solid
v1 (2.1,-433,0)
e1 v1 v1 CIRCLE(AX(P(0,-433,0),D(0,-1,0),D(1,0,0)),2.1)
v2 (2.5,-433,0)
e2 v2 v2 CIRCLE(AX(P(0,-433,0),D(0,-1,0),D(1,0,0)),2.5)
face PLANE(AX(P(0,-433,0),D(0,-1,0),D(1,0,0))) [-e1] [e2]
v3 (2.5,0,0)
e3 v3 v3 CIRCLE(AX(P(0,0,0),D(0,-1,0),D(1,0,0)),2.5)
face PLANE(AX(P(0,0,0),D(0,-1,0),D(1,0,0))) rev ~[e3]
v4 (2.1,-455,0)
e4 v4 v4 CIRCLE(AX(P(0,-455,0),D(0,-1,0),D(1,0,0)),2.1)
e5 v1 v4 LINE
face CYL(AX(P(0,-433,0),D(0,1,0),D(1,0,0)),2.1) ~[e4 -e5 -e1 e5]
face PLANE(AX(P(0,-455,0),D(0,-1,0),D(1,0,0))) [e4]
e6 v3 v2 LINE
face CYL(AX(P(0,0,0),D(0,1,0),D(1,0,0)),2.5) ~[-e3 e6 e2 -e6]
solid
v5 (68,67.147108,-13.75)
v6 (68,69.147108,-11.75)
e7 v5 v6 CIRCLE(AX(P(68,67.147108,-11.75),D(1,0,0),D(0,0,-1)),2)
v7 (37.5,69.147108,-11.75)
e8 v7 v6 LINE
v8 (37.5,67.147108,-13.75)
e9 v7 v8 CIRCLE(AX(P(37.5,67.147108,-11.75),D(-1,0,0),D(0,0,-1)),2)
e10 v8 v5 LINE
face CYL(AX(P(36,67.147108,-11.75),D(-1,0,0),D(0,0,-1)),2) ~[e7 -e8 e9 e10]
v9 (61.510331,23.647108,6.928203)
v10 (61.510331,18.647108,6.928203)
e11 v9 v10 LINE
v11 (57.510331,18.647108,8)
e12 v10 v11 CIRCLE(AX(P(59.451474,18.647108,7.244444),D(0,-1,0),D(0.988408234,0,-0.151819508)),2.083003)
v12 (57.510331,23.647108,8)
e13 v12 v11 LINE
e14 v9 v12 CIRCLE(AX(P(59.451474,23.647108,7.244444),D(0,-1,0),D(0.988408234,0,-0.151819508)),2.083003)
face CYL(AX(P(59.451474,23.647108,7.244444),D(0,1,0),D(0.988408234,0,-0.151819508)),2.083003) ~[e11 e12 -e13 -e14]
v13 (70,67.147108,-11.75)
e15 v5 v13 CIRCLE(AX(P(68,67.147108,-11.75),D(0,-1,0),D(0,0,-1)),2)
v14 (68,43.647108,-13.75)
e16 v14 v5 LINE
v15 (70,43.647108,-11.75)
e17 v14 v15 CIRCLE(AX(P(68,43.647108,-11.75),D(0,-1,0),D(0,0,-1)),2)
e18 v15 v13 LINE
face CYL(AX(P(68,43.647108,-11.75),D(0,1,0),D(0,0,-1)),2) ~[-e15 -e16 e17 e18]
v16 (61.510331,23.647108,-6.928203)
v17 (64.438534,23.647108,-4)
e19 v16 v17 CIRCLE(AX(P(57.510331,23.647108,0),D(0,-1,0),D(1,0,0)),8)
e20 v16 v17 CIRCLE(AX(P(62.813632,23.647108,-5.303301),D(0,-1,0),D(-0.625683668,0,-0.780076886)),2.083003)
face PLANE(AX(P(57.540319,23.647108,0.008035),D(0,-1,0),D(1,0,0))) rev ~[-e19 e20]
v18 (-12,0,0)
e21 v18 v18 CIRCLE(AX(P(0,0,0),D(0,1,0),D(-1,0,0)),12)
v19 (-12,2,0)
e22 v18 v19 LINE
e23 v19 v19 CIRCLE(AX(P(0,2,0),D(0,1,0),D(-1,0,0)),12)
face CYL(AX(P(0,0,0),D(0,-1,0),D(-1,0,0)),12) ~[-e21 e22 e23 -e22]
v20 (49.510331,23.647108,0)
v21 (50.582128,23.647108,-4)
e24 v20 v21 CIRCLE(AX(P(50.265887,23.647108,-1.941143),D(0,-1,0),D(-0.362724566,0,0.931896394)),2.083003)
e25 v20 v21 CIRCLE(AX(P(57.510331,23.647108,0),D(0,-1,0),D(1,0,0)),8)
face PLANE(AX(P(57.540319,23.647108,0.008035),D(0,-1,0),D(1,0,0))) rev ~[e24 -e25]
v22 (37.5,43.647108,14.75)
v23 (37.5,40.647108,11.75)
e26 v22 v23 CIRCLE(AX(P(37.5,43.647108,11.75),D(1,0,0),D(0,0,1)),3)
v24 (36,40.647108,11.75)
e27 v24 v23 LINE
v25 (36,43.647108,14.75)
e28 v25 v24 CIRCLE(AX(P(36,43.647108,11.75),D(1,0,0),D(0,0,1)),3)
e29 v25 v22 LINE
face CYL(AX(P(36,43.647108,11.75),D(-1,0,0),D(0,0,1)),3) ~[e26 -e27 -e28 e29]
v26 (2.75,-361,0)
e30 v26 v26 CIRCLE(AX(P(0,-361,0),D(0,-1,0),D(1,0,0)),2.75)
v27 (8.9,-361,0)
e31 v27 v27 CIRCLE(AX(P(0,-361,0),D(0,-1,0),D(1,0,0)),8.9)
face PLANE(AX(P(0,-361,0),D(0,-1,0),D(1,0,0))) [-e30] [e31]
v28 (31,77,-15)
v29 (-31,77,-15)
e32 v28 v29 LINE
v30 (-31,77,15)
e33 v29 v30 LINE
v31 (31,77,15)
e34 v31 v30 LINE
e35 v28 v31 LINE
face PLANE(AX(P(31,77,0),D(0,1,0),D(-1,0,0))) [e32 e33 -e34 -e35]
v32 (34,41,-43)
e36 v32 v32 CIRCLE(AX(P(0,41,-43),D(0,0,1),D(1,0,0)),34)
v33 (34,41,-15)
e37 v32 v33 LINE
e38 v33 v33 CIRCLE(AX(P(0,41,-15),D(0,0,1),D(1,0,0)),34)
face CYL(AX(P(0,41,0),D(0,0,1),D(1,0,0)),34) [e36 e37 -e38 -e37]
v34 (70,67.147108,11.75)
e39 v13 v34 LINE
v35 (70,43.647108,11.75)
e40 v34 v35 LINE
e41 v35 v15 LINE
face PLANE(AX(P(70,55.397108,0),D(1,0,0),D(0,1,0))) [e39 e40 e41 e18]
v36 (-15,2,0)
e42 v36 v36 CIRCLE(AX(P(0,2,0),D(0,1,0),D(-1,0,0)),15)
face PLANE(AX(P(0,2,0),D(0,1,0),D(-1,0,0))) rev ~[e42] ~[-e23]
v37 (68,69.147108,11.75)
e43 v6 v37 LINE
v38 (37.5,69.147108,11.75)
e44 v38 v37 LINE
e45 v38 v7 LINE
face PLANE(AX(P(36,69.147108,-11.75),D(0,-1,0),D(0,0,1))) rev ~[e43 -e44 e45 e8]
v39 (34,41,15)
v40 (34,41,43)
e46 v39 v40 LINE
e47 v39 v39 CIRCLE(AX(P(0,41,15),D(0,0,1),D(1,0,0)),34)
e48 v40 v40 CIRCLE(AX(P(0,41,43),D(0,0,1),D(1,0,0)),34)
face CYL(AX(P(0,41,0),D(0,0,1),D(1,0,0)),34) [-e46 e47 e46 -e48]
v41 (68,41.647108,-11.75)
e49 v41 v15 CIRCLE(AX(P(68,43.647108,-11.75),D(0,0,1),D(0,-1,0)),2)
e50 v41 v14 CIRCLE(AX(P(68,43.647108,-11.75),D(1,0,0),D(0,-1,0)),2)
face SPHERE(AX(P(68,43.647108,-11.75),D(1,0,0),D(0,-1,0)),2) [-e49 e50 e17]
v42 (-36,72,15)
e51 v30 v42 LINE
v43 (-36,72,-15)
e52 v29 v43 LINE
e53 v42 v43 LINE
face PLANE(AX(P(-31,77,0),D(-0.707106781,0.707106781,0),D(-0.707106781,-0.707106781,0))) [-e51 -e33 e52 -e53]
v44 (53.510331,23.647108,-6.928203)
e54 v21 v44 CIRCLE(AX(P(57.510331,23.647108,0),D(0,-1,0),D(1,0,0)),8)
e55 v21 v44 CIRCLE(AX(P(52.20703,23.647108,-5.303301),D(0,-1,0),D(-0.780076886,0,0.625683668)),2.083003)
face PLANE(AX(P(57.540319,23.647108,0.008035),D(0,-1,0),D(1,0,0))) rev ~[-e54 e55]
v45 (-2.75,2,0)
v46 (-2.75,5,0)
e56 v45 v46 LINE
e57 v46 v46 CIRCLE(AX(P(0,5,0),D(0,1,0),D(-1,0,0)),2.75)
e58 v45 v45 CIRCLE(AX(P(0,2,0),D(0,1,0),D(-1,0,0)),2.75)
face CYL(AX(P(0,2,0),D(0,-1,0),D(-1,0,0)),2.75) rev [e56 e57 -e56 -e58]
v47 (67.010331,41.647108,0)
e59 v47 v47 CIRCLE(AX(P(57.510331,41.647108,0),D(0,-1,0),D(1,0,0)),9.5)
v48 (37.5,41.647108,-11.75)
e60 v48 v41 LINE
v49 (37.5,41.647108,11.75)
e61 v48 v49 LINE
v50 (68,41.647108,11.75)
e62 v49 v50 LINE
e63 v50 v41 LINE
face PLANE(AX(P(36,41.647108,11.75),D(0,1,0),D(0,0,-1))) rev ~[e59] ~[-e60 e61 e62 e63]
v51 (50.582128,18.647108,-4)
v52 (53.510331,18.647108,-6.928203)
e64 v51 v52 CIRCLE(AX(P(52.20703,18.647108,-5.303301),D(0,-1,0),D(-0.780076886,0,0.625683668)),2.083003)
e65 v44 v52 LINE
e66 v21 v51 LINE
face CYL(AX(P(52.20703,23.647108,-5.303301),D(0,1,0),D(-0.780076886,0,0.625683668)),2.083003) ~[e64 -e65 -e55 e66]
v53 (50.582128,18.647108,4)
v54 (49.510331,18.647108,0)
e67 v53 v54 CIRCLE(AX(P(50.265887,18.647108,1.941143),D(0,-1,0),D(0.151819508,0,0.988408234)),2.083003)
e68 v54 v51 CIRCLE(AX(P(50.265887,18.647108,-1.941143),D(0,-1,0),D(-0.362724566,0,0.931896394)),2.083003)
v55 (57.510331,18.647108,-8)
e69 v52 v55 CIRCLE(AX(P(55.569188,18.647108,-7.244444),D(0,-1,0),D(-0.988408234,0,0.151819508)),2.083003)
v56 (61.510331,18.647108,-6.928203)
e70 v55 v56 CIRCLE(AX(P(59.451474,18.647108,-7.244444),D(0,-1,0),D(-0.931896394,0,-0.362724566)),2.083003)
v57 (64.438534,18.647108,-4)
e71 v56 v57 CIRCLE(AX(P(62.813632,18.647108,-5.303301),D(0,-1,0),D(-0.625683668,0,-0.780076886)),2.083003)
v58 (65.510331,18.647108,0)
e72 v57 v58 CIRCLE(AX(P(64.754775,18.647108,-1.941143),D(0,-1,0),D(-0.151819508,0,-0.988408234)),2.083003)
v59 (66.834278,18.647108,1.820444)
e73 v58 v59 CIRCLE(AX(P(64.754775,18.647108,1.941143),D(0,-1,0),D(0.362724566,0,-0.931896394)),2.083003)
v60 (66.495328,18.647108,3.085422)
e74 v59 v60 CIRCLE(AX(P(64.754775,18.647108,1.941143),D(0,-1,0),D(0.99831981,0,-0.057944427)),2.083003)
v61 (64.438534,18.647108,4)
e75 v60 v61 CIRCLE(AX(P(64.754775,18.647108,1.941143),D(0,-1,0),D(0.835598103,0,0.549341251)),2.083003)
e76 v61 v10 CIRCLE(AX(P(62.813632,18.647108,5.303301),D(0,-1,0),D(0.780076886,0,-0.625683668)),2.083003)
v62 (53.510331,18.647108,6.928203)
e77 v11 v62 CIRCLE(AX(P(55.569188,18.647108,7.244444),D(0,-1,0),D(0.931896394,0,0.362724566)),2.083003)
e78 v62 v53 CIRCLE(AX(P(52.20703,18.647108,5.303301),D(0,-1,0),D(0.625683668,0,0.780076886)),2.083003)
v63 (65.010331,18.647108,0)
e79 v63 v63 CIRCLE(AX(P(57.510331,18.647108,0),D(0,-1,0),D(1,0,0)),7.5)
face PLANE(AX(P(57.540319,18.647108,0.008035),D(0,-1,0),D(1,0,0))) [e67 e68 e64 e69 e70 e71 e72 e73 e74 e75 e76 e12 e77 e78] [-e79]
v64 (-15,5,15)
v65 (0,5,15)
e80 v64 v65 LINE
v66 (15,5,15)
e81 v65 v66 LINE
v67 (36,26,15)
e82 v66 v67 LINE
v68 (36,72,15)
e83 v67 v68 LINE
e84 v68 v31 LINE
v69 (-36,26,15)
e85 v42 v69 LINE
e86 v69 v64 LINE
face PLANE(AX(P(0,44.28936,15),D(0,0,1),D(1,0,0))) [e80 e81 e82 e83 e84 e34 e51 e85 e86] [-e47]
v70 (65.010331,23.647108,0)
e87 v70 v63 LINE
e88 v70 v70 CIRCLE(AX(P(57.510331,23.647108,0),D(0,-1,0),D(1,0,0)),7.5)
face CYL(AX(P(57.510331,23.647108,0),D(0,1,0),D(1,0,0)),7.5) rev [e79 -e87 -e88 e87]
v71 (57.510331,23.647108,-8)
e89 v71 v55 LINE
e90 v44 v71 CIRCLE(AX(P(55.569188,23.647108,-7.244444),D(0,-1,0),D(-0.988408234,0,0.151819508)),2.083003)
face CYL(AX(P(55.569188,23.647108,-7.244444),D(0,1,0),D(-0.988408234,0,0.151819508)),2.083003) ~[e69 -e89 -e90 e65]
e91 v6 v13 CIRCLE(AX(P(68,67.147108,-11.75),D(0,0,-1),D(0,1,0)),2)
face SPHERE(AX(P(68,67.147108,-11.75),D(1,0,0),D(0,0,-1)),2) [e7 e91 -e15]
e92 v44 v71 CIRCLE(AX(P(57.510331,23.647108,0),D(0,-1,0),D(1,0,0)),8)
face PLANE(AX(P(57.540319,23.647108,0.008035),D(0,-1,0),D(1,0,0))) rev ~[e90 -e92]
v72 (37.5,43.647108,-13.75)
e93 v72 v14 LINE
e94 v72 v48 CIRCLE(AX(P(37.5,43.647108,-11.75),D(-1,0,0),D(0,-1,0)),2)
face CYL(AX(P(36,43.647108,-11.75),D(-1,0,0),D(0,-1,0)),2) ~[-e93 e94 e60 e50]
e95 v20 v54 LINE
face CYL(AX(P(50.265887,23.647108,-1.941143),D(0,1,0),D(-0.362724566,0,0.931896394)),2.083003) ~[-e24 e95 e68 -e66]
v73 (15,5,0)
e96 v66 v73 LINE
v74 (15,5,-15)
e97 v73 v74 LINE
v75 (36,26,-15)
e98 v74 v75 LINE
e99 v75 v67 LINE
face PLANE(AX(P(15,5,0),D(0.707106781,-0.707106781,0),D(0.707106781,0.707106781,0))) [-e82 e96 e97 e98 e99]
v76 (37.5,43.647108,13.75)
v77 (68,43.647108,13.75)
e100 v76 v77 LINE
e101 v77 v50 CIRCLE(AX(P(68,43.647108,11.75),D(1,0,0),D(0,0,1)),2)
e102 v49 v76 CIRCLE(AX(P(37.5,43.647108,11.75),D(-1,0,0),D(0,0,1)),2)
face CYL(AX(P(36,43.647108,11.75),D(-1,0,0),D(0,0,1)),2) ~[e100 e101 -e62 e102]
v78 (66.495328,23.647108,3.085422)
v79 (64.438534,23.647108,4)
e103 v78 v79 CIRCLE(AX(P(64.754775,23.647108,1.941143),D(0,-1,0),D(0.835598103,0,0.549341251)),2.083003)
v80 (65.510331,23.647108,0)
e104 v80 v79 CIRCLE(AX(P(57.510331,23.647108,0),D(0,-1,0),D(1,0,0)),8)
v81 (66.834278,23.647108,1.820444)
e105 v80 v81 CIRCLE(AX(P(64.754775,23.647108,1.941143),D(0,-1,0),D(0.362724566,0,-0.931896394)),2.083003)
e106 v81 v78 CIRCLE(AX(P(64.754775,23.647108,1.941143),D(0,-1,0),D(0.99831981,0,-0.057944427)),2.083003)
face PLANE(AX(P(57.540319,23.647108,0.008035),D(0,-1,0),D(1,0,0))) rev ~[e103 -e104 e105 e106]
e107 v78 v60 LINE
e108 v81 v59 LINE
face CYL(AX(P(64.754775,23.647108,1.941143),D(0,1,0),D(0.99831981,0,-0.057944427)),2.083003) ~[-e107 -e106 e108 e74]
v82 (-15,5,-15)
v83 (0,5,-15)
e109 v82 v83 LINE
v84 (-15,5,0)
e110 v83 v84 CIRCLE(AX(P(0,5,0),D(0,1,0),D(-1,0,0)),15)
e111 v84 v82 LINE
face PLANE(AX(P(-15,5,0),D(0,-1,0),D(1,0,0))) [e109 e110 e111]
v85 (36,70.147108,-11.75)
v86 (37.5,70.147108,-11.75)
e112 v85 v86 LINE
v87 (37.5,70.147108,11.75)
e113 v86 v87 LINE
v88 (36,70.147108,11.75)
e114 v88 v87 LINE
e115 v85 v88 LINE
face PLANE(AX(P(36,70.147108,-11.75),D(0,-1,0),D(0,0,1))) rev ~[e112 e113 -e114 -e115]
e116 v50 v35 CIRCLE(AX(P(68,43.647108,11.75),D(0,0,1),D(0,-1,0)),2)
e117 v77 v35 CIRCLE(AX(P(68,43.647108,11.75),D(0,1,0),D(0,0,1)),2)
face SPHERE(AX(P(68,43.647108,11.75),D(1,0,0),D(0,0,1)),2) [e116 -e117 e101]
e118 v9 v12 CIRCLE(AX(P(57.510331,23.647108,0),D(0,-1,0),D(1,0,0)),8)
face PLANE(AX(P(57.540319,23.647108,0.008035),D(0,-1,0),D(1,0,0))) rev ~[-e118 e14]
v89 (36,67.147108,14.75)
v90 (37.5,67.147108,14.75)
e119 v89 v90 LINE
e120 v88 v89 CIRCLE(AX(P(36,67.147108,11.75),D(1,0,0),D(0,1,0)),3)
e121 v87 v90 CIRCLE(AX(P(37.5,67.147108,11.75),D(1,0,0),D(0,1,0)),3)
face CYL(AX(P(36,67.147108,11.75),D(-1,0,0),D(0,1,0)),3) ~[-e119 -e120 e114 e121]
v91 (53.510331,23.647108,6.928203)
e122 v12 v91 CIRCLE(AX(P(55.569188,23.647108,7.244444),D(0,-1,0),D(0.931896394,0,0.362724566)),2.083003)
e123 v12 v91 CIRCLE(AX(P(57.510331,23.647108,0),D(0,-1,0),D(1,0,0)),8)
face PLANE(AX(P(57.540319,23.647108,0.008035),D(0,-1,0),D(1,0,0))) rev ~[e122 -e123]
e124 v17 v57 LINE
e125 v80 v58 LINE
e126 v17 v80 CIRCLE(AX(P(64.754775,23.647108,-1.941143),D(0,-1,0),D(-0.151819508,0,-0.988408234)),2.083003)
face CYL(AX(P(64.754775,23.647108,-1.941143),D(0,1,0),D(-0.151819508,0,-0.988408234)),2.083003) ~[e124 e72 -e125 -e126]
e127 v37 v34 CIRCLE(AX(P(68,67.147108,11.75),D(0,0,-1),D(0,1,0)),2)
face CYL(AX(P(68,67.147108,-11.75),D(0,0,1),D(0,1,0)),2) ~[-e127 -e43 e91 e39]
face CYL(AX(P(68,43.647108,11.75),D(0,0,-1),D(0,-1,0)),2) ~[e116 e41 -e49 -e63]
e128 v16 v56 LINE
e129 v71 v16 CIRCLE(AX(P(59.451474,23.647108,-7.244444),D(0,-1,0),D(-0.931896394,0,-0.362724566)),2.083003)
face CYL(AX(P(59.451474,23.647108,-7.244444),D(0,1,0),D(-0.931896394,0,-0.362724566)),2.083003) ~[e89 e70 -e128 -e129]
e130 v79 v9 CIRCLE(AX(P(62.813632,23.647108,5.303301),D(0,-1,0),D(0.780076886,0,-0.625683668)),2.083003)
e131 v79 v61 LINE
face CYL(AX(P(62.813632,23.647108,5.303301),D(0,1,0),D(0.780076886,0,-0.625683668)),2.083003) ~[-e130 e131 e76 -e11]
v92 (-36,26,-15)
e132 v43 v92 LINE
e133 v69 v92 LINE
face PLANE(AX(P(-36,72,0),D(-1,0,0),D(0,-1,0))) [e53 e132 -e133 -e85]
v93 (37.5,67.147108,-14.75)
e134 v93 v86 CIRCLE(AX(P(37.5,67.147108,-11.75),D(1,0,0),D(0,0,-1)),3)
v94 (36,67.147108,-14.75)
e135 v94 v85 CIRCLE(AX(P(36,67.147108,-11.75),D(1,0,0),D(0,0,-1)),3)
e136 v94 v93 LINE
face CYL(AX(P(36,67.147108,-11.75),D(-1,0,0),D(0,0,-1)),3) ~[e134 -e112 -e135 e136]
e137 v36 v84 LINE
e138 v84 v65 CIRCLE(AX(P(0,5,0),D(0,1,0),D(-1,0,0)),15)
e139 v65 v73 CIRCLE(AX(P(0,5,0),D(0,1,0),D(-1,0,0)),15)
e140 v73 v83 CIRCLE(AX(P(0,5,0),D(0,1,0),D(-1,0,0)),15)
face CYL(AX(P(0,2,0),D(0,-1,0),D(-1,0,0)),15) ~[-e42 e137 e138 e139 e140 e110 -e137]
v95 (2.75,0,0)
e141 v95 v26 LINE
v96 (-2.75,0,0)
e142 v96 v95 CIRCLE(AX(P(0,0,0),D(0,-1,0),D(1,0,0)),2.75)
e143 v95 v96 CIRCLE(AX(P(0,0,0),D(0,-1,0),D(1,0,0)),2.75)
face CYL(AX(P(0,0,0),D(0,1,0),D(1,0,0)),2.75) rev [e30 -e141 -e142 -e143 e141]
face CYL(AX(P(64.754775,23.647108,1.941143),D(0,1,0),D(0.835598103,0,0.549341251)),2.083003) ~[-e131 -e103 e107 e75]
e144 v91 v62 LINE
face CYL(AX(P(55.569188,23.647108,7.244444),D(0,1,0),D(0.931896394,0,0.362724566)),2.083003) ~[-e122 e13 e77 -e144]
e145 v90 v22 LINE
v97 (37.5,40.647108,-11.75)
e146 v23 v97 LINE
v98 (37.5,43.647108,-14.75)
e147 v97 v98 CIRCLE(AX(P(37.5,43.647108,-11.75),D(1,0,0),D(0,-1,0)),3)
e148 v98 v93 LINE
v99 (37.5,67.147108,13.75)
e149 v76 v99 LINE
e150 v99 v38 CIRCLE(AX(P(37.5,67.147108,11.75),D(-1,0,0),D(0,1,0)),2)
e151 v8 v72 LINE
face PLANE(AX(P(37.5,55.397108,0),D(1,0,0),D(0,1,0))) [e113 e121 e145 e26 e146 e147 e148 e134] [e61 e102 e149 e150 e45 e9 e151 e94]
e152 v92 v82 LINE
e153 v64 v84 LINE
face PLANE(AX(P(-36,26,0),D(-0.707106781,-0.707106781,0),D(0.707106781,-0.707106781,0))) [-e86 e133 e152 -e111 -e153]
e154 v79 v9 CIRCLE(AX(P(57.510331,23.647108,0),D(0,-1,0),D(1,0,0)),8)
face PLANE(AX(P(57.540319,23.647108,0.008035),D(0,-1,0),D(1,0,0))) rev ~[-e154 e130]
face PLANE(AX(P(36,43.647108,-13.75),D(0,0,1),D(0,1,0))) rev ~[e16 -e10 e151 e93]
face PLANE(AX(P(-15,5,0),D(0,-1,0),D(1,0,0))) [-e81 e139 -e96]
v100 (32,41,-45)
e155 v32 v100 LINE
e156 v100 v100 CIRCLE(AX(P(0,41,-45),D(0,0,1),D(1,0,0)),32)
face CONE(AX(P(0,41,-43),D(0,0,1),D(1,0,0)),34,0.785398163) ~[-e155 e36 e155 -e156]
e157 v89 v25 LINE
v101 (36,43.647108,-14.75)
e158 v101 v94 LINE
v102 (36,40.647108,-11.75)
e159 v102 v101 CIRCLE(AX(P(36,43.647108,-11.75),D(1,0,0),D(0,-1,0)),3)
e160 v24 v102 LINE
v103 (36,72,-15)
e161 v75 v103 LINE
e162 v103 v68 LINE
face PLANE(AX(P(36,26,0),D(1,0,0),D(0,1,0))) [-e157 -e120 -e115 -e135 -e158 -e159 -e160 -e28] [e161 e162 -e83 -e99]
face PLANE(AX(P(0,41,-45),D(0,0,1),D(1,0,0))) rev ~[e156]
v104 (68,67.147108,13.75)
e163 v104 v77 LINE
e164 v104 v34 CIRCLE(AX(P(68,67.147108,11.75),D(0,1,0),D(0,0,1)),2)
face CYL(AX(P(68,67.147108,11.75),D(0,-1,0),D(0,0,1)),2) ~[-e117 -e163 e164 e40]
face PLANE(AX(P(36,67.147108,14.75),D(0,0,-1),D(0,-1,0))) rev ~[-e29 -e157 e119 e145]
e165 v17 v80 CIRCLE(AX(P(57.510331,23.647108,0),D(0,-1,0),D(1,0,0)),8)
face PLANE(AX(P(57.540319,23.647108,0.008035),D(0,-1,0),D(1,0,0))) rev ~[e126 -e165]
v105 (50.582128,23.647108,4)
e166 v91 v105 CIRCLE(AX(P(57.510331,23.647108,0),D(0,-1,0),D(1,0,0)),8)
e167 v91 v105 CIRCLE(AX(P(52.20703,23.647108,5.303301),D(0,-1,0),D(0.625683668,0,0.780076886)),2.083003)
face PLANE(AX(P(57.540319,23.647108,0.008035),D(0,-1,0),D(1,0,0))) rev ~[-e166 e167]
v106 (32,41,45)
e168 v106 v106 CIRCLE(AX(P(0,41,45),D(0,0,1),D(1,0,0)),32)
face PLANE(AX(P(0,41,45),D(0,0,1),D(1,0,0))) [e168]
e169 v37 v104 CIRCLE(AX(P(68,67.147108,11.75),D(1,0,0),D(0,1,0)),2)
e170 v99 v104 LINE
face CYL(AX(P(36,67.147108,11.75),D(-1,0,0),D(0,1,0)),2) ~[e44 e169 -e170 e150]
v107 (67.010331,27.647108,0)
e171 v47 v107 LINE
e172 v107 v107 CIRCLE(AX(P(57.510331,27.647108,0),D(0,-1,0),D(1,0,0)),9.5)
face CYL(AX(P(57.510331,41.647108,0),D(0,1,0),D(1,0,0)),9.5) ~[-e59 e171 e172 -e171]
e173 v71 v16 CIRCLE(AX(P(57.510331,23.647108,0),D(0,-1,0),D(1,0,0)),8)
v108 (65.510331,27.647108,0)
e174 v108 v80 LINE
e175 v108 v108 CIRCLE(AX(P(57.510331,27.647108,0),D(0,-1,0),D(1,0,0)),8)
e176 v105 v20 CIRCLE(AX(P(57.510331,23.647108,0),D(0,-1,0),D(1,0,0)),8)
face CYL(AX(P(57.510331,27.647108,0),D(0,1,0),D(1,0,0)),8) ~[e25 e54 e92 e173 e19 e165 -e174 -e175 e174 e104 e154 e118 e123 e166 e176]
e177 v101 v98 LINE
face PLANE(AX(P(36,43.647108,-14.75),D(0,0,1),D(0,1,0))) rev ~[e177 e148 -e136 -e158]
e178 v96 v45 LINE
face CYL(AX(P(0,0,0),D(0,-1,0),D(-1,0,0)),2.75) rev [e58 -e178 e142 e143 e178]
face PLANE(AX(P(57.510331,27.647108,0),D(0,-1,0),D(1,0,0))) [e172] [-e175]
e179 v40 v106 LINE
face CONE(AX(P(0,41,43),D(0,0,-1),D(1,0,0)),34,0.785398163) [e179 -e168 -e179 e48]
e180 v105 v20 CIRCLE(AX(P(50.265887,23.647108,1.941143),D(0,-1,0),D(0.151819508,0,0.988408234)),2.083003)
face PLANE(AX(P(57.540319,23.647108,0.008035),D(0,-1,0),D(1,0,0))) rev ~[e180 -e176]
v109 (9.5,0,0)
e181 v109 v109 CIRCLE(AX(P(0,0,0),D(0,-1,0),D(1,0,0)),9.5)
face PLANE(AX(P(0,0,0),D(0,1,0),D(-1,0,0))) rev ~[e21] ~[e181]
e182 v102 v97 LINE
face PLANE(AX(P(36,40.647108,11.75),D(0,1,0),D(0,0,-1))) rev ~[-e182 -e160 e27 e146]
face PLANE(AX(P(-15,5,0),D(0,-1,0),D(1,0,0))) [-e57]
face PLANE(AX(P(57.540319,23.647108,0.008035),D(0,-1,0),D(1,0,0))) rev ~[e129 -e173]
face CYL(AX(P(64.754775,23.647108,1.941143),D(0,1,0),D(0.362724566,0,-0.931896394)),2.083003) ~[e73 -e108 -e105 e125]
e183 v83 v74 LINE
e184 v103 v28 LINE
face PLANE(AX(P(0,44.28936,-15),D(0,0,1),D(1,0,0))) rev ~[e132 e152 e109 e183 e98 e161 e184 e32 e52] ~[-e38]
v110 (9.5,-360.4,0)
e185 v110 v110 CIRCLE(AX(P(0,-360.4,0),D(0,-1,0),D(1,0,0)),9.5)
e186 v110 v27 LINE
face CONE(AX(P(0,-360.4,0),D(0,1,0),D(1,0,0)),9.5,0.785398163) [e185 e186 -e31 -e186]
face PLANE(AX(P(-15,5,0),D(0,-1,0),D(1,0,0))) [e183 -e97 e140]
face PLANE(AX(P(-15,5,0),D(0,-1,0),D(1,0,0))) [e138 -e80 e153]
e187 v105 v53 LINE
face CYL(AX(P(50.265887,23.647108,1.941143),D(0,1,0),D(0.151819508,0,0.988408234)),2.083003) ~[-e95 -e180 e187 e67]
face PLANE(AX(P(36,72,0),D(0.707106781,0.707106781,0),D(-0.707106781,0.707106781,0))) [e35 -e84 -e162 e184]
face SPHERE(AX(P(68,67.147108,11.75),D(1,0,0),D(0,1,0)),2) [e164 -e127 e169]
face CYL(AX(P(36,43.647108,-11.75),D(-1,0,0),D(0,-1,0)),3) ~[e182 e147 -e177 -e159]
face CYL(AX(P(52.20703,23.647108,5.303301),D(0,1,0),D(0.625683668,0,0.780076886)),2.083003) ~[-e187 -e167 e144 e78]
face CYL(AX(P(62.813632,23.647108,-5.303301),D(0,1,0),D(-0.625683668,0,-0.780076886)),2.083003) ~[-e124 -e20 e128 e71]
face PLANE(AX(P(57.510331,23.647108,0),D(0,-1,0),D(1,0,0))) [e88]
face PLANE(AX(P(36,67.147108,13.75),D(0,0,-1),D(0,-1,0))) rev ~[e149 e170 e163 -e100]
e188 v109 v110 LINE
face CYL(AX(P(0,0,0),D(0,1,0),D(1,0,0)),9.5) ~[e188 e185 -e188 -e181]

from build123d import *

# Parameters (mm, degrees)
F0_R      = 9.5
F0_R_2    = 2.75
F1_DEPTH  = 361
F2_R      = 2.5
F3_DEPTH  = 433
F4_R      = 2.1
F5_DEPTH  = 22
F6_SIZE   = 0.6
F7_R      = 12
F7_R_2    = 9.5
F7_R_3    = 2.75
F8_DEPTH  = 2
F9_R      = 15
F9_R_2    = 12
F9_R_3    = 2.75
F10_DEPTH = 3
F11_R     = 34
F12_DEPTH = 15
F13_DEPTH = 45
F14_SIZE  = 2
F16_DEPTH = 1.5
F17_DEPTH = 34
F18_R     = 2
F19_R     = 9.5
F20_DEPTH = 14
F21_R     = 8
F22_DEPTH = 4
F23_R     = 7.5
F24_DEPTH = 5


with BuildPart() as f1:
    # F0 (on Front) → F1 (new body)
    with BuildSketch(Plane.XZ):
        Circle(F0_R)
        Circle(F0_R_2, mode=Mode.SUBTRACT)
    extrude(amount=F1_DEPTH)

    # F6
    f6_edges = [f1.edges().sort_by_distance(p)[0] for p in [
        (-9.5, -361, 0),
    ]]
    chamfer(f6_edges, length=F6_SIZE)

    # F7 (on face) → F8 (join)
    with BuildSketch(Plane(origin=(0, 0, 0), x_dir=(-1, 0, 0), z_dir=(0, 1, 0))):
        Circle(F7_R)
        Circle(F7_R_2, mode=Mode.SUBTRACT)
        Circle(F7_R_2)
        Circle(F7_R_3, mode=Mode.SUBTRACT)
    extrude(amount=F8_DEPTH)

    # F9 (on face) → F10 (join)
    with BuildSketch(Plane(origin=(0, 2, 0), x_dir=(-1, 0, 0), z_dir=(0, 1, 0))):
        Circle(F9_R)
        Circle(F9_R_2, mode=Mode.SUBTRACT)
        Circle(F9_R_2)
        Circle(F9_R_3, mode=Mode.SUBTRACT)
    extrude(amount=F10_DEPTH)

    # F11 (on Top) → F12 (join, symmetric)
    with BuildSketch(Plane.XY):
        Polygon((0, 5), (15, 5), (36, 26), (36, 72), (31, 77), (0, 77), (-31, 77), (-36, 72), (-36, 26), (-15, 5), align=None)
        with Locations((0, 41)):
            Circle(F11_R, mode=Mode.SUBTRACT)
    extrude(amount=F12_DEPTH, both=True)

    # F11 (on Top) → F13 (join, symmetric)
    with BuildSketch(Plane.XY):
        with Locations((0, 41)):
            Circle(F11_R)
    extrude(amount=F13_DEPTH, both=True)

    # F14
    f14_edges = [f1.edges().sort_by_distance(p)[0] for p in [
        (-34, 41, 45),
        (-34, 41, -45),
    ]]
    chamfer(f14_edges, length=F14_SIZE)

    # F15 (on face) → F16 (join)
    with BuildSketch(Plane.YZ.offset(36)):
        with BuildLine():
            Line((40.6471081972, 11.75), (40.6471081972, -11.75))
            ThreePointArc((40.6471081972, -11.75), (41.5257878537, -13.8713203436), (43.6471081972, -14.75))
            Line((43.6471081972, -14.75), (67.1471081972, -14.75))
            ThreePointArc((67.1471081972, -14.75), (69.2684285408, -13.8713203436), (70.1471081972, -11.75))
            Line((70.1471081972, -11.75), (70.1471081972, 11.75))
            ThreePointArc((70.1471081972, 11.75), (69.2684285408, 13.8713203436), (67.1471081972, 14.75))
            Line((67.1471081972, 14.75), (43.6471081972, 14.75))
            ThreePointArc((43.6471081972, 14.75), (41.5257878537, 13.8713203436), (40.6471081972, 11.75))
        make_face()
        with BuildLine():
            ThreePointArc((69.1471081972, -11.75), (68.5613217596, -13.1642135624), (67.1471081972, -13.75))
            Line((67.1471081972, -13.75), (43.6471081972, -13.75))
            ThreePointArc((43.6471081972, -13.75), (42.2328946348, -13.1642135624), (41.6471081972, -11.75))
            Line((41.6471081972, -11.75), (41.6471081972, 11.75))
            ThreePointArc((41.6471081972, 11.75), (42.2328946348, 13.1642135624), (43.6471081972, 13.75))
            Line((43.6471081972, 13.75), (67.1471081972, 13.75))
            ThreePointArc((67.1471081972, 13.75), (68.5613217596, 13.1642135624), (69.1471081972, 11.75))
            Line((69.1471081972, 11.75), (69.1471081972, -11.75))
        make_face(mode=Mode.SUBTRACT)
        with BuildLine():
            Line((43.6471081972, -13.75), (67.1471081972, -13.75))
            ThreePointArc((67.1471081972, -13.75), (68.5613217596, -13.1642135624), (69.1471081972, -11.75))
            Line((69.1471081972, -11.75), (69.1471081972, 11.75))
            ThreePointArc((69.1471081972, 11.75), (68.5613217596, 13.1642135624), (67.1471081972, 13.75))
            Line((67.1471081972, 13.75), (43.6471081972, 13.75))
            ThreePointArc((43.6471081972, 13.75), (42.2328946348, 13.1642135624), (41.6471081972, 11.75))
            Line((41.6471081972, 11.75), (41.6471081972, -11.75))
            ThreePointArc((41.6471081972, -11.75), (42.2328946348, -13.1642135624), (43.6471081972, -13.75))
        make_face()
    extrude(amount=F16_DEPTH)

    # F15 (on face) → F17 (join)
    with BuildSketch(Plane.YZ.offset(36)):
        with BuildLine():
            Line((43.6471081972, -13.75), (67.1471081972, -13.75))
            ThreePointArc((67.1471081972, -13.75), (68.5613217596, -13.1642135624), (69.1471081972, -11.75))
            Line((69.1471081972, -11.75), (69.1471081972, 11.75))
            ThreePointArc((69.1471081972, 11.75), (68.5613217596, 13.1642135624), (67.1471081972, 13.75))
            Line((67.1471081972, 13.75), (43.6471081972, 13.75))
            ThreePointArc((43.6471081972, 13.75), (42.2328946348, 13.1642135624), (41.6471081972, 11.75))
            Line((41.6471081972, 11.75), (41.6471081972, -11.75))
            ThreePointArc((41.6471081972, -11.75), (42.2328946348, -13.1642135624), (43.6471081972, -13.75))
        make_face()
    extrude(amount=F17_DEPTH)

    # F18
    f18_edges = [f1.edges().sort_by_distance(p)[0] for p in [
        (70, 55.397108, -13.75),
        (70, 68.561322, -13.164214),
        (70, 69.147108, 0),
        (70, 68.561322, 13.164214),
        (70, 55.397108, 13.75),
        (70, 42.232895, 13.164214),
        (70, 41.647108, 0),
        (70, 42.232895, -13.164214),
    ]]
    fillet(f18_edges, radius=F18_R)

    # F19 (on face) → F20 (join)
    with BuildSketch(Plane.XZ.offset(-41.6471081972)):
        with Locations((57.5103309431, 0)):
            Circle(F19_R)
    extrude(amount=F20_DEPTH)

    # F21 (on face) → F22 (join)
    with BuildSketch(Plane.XZ.offset(-27.6471081972)):
        with Locations((57.5103309431, 0)):
            Circle(F21_R)
    extrude(amount=F22_DEPTH)

    # F23 (on face) → F24 (join)
    with BuildSketch(Plane.XZ.offset(-23.6471081972)):
        with BuildLine():
            ThreePointArc((65.5103309431, 0), (66.4393798758, 0.7159873193), (66.8342776434, 1.820444432))
            ThreePointArc((66.8342776434, 1.820444432), (66.6866262929, 2.4587809285), (66.4953278651, 3.0854222259))
            ThreePointArc((66.4953278651, 3.0854222259), (65.6011078101, 3.8444612591), (64.4385341734, 4))
            ThreePointArc((64.4385341734, 4), (64.2865372378, 6.7762062946), (61.5103309431, 6.9282032303))
            ThreePointArc((61.5103309431, 6.9282032303), (59.9905945883, 9.2564699398), (57.5103309431, 8))
            ThreePointArc((57.5103309431, 8), (55.030067298, 9.2564699398), (53.5103309431, 6.9282032303))
            ThreePointArc((53.5103309431, 6.9282032303), (50.7341246485, 6.7762062946), (50.5821277129, 4))
            ThreePointArc((50.5821277129, 4), (48.2538610034, 2.4802636451), (49.5103309431, 0))
            ThreePointArc((49.5103309431, 0), (48.2538610034, -2.4802636451), (50.5821277129, -4))
            ThreePointArc((50.5821277129, -4), (50.7341246485, -6.7762062946), (53.5103309431, -6.9282032303))
            ThreePointArc((53.5103309431, -6.9282032303), (55.030067298, -9.2564699398), (57.5103309431, -8))
            ThreePointArc((57.5103309431, -8), (59.9905945883, -9.2564699398), (61.5103309431, -6.9282032303))
            ThreePointArc((61.5103309431, -6.9282032303), (64.2865372378, -6.7762062946), (64.4385341734, -4))
            ThreePointArc((64.4385341734, -4), (66.7668008829, -2.4802636451), (65.5103309431, 0))
        make_face()
        with Locations((57.5103309431, 0)):
            Circle(F23_R, mode=Mode.SUBTRACT)
        with BuildLine():
            ThreePointArc((66.4953278651, 3.0854222259), (66.6866262929, 2.4587809285), (66.8342776434, 1.820444432))
            ThreePointArc((66.8342776434, 1.820444432), (66.7668008829, 2.4802636451), (66.4953278651, 3.0854222259))
        make_face()
    extrude(amount=F24_DEPTH)


with BuildPart() as f3:
    # F2 (on Front) → F3 (new body)
    with BuildSketch(Plane.XZ):
        Circle(F2_R)
    extrude(amount=F3_DEPTH)

    # F4 (on face) → F5 (join)
    with BuildSketch(Plane.XZ.offset(433)):
        Circle(F4_R)
    extrude(amount=F5_DEPTH)


solid = Compound([f1.part, f3.part])
